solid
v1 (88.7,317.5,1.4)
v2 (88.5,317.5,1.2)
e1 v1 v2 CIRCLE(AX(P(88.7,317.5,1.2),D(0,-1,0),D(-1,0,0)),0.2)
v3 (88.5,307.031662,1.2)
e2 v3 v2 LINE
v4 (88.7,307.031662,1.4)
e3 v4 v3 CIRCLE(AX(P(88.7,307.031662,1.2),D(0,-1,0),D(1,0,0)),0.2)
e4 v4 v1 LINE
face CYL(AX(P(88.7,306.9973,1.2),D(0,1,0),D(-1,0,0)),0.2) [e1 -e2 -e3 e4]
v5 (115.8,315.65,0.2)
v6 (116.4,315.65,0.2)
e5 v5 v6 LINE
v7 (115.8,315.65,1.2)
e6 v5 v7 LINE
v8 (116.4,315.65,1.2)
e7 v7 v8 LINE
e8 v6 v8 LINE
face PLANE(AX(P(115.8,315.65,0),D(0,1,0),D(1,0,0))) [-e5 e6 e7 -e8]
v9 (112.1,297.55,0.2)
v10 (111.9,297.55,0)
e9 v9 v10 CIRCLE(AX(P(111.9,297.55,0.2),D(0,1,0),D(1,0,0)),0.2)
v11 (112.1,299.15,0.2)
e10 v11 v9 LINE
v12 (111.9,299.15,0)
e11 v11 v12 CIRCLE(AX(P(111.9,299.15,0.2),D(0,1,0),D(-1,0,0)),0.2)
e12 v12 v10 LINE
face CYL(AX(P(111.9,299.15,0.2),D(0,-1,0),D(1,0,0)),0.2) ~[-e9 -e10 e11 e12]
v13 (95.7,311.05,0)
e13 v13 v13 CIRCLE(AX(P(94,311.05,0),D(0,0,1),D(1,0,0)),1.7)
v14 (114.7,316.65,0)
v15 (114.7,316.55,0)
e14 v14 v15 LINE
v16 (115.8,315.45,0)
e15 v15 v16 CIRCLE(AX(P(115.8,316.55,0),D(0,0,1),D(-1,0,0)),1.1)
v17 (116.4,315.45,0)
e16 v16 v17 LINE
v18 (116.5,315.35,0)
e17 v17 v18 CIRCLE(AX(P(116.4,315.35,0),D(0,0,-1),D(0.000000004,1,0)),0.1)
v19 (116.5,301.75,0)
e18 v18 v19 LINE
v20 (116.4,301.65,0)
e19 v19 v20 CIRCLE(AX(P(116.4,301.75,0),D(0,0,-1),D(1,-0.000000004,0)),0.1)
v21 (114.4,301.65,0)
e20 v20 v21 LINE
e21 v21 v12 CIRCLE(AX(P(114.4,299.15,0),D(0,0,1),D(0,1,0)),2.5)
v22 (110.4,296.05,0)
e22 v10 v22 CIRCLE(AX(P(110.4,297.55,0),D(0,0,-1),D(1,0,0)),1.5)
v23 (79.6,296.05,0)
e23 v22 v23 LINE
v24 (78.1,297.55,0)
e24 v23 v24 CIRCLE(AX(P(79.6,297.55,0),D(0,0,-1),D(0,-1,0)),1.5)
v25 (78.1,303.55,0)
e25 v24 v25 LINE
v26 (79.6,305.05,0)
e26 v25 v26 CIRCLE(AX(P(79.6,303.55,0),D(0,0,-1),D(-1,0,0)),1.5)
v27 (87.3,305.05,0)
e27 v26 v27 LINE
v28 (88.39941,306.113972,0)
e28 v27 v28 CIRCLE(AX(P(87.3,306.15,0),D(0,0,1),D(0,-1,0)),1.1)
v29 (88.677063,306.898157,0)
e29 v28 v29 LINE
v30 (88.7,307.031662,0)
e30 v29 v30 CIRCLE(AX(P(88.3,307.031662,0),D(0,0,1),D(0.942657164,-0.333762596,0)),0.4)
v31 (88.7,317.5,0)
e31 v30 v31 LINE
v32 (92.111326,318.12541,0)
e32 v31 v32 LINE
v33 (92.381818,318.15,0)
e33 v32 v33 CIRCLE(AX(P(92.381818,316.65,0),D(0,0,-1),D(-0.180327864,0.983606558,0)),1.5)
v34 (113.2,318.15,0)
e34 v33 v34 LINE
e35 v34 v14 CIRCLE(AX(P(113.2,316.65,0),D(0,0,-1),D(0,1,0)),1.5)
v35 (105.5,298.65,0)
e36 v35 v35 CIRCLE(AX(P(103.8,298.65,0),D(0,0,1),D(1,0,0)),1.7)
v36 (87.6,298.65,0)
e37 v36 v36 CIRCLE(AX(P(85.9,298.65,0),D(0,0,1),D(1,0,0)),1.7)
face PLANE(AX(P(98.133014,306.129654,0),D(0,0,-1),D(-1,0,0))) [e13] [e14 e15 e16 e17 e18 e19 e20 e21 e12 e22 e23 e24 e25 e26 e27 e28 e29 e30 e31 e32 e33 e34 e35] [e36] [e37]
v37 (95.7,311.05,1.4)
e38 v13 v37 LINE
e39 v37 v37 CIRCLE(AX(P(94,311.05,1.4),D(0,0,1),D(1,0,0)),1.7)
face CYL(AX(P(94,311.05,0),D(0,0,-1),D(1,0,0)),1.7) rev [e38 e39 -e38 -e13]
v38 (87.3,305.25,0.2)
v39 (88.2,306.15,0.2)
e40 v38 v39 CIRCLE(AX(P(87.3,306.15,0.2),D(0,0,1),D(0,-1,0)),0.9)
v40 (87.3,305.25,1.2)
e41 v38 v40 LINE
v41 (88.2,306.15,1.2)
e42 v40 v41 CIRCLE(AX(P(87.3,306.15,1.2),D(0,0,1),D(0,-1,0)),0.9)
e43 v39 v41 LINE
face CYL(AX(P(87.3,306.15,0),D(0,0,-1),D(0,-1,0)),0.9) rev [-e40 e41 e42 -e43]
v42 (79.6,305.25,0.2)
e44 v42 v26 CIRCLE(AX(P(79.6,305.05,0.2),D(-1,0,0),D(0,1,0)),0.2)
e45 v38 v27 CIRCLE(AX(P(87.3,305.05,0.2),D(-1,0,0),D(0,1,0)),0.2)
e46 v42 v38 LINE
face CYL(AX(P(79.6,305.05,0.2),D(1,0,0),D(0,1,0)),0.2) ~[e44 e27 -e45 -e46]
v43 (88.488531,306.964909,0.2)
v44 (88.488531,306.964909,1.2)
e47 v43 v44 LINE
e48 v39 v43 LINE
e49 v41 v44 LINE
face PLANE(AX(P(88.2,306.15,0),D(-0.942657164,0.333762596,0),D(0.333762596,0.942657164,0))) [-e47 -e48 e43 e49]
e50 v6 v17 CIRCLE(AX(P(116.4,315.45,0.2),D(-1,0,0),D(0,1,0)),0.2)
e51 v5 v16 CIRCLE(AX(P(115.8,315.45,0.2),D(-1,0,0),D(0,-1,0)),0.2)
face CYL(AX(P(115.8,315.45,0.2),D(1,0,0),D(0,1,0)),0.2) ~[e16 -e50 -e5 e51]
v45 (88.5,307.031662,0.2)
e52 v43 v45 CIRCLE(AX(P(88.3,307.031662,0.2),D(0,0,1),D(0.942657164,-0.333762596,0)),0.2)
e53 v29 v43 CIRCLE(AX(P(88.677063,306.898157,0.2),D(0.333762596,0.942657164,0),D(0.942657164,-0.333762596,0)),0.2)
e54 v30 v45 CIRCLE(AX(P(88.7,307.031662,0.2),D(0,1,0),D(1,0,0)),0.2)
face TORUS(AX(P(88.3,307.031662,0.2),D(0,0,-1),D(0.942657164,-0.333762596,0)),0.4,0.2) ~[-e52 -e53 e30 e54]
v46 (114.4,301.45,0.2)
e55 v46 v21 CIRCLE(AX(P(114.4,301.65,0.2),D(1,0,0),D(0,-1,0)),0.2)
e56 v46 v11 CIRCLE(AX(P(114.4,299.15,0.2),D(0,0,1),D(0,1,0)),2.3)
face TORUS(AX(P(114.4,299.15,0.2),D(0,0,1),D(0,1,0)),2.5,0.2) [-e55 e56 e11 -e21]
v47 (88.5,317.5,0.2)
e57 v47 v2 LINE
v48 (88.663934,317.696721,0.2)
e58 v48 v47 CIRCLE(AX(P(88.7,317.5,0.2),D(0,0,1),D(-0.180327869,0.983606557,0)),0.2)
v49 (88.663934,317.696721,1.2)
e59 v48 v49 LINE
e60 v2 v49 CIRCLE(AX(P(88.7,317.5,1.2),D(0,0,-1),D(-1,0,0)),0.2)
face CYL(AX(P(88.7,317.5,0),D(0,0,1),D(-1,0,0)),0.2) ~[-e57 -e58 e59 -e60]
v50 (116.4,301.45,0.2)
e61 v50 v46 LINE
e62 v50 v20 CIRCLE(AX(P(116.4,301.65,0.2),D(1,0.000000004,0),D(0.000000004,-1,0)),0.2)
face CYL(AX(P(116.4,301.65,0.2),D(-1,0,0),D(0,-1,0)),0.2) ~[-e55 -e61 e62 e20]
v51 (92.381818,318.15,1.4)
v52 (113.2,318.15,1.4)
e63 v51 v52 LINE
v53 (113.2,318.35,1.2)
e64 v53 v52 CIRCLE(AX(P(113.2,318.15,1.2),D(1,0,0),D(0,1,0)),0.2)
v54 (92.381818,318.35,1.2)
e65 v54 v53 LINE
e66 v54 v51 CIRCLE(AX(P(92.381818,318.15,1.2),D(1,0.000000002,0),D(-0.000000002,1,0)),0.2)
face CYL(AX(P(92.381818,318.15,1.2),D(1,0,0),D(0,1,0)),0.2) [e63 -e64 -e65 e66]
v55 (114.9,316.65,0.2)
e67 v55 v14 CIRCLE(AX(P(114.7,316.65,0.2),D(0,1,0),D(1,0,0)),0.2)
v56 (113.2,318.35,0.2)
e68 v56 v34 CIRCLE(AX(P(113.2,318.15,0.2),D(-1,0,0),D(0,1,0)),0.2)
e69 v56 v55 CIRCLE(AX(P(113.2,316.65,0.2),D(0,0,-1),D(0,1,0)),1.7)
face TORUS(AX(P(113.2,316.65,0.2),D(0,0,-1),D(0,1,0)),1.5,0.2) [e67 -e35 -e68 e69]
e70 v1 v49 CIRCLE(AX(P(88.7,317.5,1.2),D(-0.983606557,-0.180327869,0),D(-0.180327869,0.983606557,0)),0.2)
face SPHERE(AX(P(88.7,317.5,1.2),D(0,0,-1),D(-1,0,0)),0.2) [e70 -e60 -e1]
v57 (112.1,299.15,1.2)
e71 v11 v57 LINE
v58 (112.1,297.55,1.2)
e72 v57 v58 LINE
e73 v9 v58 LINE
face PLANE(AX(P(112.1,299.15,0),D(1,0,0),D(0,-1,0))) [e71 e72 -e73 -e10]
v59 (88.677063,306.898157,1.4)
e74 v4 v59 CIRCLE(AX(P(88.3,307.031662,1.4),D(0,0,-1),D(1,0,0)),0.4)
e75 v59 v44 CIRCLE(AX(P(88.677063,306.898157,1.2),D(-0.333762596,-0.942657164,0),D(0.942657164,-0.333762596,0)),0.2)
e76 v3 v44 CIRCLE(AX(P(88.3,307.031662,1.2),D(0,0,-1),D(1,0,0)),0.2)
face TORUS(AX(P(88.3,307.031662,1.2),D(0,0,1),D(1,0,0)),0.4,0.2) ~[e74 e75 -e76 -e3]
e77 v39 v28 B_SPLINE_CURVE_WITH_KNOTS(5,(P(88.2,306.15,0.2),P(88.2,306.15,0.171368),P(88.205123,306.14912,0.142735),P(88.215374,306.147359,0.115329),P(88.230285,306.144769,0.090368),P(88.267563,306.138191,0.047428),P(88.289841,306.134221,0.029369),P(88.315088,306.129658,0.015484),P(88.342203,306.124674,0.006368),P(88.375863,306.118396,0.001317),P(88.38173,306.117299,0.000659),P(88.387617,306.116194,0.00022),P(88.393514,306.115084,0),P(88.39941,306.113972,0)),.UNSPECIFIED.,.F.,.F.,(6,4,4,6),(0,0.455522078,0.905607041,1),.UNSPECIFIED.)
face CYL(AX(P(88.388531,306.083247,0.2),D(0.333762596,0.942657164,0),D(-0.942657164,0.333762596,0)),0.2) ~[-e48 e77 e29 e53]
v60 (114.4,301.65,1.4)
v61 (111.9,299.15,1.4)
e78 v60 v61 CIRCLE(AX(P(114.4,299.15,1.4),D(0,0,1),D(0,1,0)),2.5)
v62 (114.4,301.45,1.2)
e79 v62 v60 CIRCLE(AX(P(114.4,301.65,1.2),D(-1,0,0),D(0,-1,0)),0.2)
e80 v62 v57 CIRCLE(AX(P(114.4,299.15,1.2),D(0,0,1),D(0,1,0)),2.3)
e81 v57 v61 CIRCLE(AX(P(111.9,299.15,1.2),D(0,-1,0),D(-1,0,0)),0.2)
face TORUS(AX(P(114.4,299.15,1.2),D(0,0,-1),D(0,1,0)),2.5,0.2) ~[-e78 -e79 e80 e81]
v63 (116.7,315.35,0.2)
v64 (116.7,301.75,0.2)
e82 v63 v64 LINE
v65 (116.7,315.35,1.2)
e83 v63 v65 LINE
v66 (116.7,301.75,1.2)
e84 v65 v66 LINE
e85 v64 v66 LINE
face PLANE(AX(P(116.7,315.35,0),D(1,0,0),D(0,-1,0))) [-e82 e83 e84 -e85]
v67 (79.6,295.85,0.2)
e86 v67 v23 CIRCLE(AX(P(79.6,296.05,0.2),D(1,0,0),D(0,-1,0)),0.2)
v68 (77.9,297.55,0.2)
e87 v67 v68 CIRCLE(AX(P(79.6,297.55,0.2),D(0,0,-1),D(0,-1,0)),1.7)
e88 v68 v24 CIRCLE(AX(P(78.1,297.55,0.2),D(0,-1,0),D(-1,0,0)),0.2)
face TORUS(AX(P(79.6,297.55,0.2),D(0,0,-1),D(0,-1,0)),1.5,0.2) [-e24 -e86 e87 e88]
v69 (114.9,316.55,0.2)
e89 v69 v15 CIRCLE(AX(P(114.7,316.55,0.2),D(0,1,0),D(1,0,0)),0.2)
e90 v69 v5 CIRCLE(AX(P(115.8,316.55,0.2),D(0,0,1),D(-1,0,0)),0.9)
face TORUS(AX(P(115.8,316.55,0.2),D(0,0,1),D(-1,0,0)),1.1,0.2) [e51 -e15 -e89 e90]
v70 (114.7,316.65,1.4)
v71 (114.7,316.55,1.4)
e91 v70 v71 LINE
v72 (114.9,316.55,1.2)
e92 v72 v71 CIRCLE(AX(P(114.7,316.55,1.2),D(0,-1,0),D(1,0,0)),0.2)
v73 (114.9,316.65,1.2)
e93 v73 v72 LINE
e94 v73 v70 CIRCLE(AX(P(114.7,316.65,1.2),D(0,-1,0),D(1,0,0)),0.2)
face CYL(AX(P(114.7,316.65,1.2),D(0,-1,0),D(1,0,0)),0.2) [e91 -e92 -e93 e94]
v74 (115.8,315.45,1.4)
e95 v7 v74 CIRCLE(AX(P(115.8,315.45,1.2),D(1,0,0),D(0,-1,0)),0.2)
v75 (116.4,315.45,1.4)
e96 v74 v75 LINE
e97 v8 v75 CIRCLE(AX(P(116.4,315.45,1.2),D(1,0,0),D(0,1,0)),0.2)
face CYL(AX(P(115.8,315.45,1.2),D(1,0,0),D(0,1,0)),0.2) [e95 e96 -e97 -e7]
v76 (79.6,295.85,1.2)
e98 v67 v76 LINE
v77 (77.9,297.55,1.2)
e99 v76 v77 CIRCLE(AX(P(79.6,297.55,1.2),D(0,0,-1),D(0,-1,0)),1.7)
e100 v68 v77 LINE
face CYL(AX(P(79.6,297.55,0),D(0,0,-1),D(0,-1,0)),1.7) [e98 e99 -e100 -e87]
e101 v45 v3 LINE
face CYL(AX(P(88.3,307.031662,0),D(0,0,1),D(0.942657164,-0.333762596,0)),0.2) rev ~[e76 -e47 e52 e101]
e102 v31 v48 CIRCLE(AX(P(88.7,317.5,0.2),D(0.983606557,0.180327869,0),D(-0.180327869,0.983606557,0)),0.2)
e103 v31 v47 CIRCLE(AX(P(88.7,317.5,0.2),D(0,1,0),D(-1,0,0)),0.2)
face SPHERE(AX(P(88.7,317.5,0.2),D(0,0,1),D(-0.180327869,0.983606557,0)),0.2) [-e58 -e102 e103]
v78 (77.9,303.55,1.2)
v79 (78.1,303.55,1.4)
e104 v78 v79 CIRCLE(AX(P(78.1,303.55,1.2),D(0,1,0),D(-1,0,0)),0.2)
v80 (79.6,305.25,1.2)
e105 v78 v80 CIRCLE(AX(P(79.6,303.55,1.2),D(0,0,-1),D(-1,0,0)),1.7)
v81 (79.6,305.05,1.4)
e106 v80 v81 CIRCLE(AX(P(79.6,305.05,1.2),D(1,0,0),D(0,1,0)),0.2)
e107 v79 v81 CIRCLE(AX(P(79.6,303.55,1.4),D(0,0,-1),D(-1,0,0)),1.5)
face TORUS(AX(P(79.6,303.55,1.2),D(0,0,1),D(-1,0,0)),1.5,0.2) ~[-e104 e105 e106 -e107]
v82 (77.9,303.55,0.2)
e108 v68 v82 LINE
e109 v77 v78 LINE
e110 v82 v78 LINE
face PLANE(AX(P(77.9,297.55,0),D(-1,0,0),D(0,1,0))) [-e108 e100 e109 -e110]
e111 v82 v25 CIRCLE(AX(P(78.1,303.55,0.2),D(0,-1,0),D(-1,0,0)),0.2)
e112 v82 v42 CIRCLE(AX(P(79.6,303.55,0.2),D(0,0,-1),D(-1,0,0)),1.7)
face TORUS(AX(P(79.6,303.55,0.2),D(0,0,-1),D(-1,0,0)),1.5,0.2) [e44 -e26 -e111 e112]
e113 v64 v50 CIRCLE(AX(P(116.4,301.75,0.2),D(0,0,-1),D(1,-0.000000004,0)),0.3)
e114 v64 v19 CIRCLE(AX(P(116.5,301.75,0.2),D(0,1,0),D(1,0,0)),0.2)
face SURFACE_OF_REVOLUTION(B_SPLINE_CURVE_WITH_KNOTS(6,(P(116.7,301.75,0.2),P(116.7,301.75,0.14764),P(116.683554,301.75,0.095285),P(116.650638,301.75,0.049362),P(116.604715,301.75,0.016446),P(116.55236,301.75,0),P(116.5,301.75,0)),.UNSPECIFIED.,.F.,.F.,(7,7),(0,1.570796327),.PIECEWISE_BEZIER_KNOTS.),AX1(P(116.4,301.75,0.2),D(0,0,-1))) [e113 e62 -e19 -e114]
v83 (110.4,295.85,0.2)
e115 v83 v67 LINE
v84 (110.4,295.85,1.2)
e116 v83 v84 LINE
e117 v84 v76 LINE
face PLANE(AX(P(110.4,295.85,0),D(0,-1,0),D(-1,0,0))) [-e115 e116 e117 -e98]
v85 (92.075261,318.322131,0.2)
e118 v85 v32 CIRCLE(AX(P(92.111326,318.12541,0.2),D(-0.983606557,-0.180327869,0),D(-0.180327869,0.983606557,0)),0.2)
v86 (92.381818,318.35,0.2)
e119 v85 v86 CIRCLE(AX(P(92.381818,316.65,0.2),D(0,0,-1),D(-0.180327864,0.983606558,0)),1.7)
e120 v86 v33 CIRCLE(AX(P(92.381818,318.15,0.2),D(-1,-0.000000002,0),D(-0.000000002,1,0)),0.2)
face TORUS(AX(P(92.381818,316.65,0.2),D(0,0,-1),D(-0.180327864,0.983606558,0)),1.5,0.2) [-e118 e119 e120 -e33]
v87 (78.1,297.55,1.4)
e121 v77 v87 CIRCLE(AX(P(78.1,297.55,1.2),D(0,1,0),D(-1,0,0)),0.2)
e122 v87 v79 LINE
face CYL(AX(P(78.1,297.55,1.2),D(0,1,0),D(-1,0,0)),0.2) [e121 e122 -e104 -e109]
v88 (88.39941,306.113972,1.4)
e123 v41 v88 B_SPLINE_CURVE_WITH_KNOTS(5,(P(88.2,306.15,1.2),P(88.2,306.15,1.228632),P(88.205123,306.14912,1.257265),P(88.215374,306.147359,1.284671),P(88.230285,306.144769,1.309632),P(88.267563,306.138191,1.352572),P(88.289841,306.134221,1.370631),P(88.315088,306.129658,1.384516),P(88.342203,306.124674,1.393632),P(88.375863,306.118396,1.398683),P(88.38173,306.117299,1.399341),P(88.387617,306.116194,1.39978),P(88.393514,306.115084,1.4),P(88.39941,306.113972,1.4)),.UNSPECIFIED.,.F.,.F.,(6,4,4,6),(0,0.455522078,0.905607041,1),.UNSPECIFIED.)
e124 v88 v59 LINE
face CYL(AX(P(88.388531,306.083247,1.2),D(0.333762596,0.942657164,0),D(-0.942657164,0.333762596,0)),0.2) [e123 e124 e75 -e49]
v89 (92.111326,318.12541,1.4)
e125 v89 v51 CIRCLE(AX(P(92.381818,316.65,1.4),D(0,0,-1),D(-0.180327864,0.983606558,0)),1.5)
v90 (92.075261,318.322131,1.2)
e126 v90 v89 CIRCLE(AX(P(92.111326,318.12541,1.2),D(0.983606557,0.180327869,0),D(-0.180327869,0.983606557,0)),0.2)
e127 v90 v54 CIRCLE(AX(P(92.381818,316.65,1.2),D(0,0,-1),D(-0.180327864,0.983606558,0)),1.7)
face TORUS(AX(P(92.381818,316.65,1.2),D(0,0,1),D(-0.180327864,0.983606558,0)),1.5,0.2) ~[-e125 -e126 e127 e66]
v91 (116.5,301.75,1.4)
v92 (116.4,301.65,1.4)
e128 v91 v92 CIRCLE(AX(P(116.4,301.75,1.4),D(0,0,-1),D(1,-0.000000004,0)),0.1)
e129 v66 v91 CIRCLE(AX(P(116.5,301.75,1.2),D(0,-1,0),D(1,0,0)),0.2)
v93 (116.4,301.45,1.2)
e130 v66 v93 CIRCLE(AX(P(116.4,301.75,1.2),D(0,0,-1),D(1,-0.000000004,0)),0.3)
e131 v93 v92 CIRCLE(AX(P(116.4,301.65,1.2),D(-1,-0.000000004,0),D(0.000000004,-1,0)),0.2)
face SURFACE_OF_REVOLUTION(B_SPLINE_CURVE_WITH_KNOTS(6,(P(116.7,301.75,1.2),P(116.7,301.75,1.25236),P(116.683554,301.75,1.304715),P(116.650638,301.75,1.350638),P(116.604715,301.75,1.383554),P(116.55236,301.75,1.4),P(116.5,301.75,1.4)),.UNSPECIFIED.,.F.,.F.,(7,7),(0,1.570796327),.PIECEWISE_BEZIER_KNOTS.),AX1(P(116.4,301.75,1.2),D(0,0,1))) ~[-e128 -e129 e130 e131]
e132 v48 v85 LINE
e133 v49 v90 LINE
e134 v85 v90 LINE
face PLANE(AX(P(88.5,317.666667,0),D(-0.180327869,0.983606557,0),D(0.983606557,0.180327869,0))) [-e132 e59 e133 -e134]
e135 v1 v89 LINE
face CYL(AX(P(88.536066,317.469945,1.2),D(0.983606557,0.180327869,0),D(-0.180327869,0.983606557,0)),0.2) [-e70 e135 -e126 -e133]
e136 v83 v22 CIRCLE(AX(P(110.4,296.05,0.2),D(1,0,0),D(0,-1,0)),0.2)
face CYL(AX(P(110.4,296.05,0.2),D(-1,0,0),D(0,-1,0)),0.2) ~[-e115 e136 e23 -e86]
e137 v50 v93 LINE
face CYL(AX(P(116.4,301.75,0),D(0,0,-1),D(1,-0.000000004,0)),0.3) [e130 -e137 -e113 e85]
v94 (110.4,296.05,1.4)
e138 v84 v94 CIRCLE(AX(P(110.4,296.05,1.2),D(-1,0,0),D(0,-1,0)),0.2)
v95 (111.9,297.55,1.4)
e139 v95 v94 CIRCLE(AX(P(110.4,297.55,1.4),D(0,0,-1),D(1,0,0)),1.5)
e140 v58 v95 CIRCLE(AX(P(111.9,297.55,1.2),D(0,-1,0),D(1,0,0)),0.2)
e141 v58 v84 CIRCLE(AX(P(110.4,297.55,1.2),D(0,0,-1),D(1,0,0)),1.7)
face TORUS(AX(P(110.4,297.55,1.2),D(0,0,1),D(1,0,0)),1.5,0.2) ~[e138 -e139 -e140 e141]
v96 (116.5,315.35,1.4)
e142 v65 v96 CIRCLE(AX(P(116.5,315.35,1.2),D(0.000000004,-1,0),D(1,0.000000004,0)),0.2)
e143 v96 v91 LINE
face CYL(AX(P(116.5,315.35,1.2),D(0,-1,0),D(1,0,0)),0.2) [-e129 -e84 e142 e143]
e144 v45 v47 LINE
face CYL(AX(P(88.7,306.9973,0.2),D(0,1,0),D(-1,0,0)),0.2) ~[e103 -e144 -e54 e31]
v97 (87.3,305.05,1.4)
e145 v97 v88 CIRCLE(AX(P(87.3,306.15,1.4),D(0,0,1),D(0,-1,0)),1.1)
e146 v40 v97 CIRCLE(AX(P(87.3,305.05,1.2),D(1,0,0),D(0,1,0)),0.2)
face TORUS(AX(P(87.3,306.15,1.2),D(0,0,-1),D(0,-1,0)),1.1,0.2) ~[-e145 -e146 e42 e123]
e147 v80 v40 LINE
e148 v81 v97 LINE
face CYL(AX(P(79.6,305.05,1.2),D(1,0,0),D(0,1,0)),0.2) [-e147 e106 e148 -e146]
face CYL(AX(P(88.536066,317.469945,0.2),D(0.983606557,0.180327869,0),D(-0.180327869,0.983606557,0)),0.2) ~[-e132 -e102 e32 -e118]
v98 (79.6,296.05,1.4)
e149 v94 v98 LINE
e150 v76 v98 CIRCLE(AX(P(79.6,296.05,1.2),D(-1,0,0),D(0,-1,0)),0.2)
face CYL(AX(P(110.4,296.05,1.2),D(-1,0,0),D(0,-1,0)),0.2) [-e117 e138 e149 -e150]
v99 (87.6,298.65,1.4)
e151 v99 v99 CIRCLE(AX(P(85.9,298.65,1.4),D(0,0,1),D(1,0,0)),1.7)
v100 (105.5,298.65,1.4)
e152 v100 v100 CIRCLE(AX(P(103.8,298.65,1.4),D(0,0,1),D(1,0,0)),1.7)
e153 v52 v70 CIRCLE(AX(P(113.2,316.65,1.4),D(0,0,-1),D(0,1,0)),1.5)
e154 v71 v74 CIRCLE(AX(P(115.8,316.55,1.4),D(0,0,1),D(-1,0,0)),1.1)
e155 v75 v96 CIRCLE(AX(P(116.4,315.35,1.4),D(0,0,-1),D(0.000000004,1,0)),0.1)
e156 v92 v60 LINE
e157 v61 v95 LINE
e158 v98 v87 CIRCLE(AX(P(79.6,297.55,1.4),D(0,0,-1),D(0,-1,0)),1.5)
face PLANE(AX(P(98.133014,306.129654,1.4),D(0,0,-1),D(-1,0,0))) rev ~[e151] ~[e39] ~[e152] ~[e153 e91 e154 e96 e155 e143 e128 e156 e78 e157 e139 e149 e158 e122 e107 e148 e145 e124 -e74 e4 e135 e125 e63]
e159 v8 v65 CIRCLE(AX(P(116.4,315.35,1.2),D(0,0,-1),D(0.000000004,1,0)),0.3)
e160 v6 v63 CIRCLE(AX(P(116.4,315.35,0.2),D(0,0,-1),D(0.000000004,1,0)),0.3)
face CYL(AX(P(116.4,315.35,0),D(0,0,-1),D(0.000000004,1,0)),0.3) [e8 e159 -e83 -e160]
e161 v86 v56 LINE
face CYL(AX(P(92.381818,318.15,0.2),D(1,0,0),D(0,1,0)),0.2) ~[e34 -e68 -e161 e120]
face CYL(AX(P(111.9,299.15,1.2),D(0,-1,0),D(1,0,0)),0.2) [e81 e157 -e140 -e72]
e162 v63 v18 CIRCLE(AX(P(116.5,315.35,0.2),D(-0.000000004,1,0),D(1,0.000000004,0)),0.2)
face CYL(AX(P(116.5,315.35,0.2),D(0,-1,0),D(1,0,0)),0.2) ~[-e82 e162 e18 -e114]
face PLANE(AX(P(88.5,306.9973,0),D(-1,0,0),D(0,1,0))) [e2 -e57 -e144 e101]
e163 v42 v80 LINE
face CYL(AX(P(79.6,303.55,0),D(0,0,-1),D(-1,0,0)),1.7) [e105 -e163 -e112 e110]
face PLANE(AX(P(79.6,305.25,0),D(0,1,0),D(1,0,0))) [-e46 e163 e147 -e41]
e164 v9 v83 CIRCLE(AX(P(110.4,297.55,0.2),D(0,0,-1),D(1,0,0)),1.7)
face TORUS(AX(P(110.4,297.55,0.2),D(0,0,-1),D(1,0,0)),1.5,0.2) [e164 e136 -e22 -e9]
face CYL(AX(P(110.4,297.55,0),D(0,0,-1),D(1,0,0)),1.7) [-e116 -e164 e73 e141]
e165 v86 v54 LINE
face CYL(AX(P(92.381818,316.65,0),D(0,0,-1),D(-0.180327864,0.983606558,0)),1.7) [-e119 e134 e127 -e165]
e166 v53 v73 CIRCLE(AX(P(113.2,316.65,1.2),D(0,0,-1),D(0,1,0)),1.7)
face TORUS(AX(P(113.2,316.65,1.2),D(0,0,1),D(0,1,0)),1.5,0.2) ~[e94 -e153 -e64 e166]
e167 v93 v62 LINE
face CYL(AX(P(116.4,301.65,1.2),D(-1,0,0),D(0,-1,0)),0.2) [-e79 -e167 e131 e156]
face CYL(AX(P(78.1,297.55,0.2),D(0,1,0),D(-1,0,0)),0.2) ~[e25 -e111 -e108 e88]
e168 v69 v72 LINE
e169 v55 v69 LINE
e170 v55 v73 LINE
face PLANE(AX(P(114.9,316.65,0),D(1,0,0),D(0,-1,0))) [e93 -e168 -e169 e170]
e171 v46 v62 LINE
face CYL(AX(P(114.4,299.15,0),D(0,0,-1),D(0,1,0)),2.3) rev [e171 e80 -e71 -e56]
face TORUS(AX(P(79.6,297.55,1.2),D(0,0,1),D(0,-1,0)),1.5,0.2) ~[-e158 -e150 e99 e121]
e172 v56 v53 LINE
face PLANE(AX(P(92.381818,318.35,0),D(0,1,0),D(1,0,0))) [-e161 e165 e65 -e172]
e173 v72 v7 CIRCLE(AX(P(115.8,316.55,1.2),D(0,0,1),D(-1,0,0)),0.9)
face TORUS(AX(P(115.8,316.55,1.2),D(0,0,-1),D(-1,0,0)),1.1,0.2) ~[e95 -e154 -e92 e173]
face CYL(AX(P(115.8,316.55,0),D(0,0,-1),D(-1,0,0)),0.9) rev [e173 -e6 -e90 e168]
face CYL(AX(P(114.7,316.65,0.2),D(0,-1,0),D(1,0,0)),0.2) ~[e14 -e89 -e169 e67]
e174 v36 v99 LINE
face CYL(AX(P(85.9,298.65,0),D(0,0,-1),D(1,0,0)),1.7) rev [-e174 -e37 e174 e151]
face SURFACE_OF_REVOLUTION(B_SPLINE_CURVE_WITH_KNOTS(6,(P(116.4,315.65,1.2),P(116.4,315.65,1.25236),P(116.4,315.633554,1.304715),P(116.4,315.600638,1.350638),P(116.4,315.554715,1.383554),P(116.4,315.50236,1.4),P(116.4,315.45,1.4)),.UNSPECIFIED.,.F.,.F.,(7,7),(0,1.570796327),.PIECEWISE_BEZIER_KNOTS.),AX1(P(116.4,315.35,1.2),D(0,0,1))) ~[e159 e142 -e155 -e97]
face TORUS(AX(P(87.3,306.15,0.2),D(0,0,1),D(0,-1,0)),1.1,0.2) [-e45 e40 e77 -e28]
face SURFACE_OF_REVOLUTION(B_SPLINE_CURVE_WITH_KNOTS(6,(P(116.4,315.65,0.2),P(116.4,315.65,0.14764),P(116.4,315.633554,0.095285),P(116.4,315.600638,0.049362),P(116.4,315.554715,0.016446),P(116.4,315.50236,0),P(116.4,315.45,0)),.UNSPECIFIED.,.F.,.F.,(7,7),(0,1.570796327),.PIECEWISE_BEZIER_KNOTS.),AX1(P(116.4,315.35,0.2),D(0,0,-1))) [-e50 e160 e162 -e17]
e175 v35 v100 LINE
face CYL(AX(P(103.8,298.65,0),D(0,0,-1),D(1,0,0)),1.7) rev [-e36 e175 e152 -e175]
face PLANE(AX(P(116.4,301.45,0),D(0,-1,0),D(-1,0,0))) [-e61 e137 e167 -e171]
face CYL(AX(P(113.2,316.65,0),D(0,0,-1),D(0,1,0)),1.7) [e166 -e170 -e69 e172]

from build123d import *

# Parameters (mm, degrees)
SKETCH1_R           = 1.7
BOSS_EXTRUDE1_DEPTH = 1.4
FILLET1_R           = 0.2


with BuildPart() as part:
    # Sketch1 → Boss-Extrude1 (new body)
    with BuildSketch(Plane.XY):
        with BuildLine():
            Line((88.2, 306.15), (88.5, 306.997300304))
            Line((88.5, 306.997300304), (88.5, 317.666666667))
            Line((88.5, 317.666666667), (92.075260805, 318.322131148))
            ThreePointArc((92.075260805, 318.322131148), (92.227907414, 318.343018451), (92.381818182, 318.35))
            Line((92.381818182, 318.35), (113.2, 318.35))
            ThreePointArc((113.2, 318.35), (114.402081528, 317.852081528), (114.9, 316.65))
            Line((114.9, 316.65), (114.9, 316.55))
            ThreePointArc((114.9, 316.55), (115.163603897, 315.913603897), (115.8, 315.65))
            Line((115.8, 315.65), (116.4, 315.65))
            ThreePointArc((116.4, 315.65), (116.612132034, 315.562132034), (116.7, 315.35))
            Line((116.7, 315.35), (116.7, 301.75))
            ThreePointArc((116.7, 301.75), (116.612132034, 301.537867966), (116.4, 301.45))
            Line((116.4, 301.45), (114.4, 301.45))
            ThreePointArc((114.4, 301.45), (112.773654403, 300.776345597), (112.1, 299.15))
            Line((112.1, 299.15), (112.1, 297.55))
            ThreePointArc((112.1, 297.55), (111.602081528, 296.347918472), (110.4, 295.85))
            Line((110.4, 295.85), (79.6, 295.85))
            ThreePointArc((79.6, 295.85), (78.397918472, 296.347918472), (77.9, 297.55))
            Line((77.9, 297.55), (77.9, 303.55))
            ThreePointArc((77.9, 303.55), (78.397918472, 304.752081528), (79.6, 305.25))
            Line((79.6, 305.25), (87.3, 305.25))
            ThreePointArc((87.3, 305.25), (87.936396103, 305.513603897), (88.2, 306.15))
        make_face()
        with Locations((85.9, 298.65)):
            Circle(SKETCH1_R, mode=Mode.SUBTRACT)
        with Locations((103.8, 298.65)):
            Circle(SKETCH1_R, mode=Mode.SUBTRACT)
        with Locations((94, 311.05)):
            Circle(SKETCH1_R, mode=Mode.SUBTRACT)
    extrude(amount=BOSS_EXTRUDE1_DEPTH)

    # Fillet1
    fillet1_edges = [part.edges().sort_by_distance(p)[0] for p in [
        (88.35, 306.573650152, 1.4),
        (87.936396103, 305.513603897, 1.4),
        (83.45, 305.25, 1.4),
        (92.227907414, 318.343018451, 0),
        (102.790909091, 318.35, 0),
        (114.402081528, 317.852081528, 0),
        (114.9, 316.6, 0),
        (115.163603897, 315.913603897, 0),
        (116.1, 315.65, 0),
        (116.612132034, 315.562132034, 0),
        (116.7, 308.55, 0),
        (116.612132034, 301.537867966, 0),
        (115.4, 301.45, 0),
        (78.397918472, 304.752081528, 1.4),
        (112.773654403, 300.776345597, 0),
        (112.1, 298.35, 0),
        (111.602081528, 296.347918472, 0),
        (95, 295.85, 0),
        (78.397918472, 296.347918472, 0),
        (77.9, 300.55, 0),
        (78.397918472, 304.752081528, 0),
        (83.45, 305.25, 0),
        (87.936396103, 305.513603897, 0),
        (88.35, 306.573650152, 0),
        (77.9, 300.55, 1.4),
        (88.5, 312.331983485, 0),
        (90.287630402, 317.994398907, 0),
        (78.397918472, 296.347918472, 1.4),
        (95, 295.85, 1.4),
        (88.5, 306.997300304, 0.7),
        (88.5, 317.666666667, 0.7),
        (111.602081528, 296.347918472, 1.4),
        (112.1, 298.35, 1.4),
        (112.773654403, 300.776345597, 1.4),
        (90.287630402, 317.994398907, 1.4),
        (115.4, 301.45, 1.4),
        (116.612132034, 301.537867966, 1.4),
        (116.7, 308.55, 1.4),
        (116.612132034, 315.562132034, 1.4),
        (116.1, 315.65, 1.4),
        (115.163603897, 315.913603897, 1.4),
        (114.9, 316.6, 1.4),
        (114.402081528, 317.852081528, 1.4),
        (102.790909091, 318.35, 1.4),
        (92.227907414, 318.343018451, 1.4),
        (88.5, 312.331983485, 1.4),
    ]]
    fillet(fillet1_edges, radius=FILLET1_R)


solid = part.part
